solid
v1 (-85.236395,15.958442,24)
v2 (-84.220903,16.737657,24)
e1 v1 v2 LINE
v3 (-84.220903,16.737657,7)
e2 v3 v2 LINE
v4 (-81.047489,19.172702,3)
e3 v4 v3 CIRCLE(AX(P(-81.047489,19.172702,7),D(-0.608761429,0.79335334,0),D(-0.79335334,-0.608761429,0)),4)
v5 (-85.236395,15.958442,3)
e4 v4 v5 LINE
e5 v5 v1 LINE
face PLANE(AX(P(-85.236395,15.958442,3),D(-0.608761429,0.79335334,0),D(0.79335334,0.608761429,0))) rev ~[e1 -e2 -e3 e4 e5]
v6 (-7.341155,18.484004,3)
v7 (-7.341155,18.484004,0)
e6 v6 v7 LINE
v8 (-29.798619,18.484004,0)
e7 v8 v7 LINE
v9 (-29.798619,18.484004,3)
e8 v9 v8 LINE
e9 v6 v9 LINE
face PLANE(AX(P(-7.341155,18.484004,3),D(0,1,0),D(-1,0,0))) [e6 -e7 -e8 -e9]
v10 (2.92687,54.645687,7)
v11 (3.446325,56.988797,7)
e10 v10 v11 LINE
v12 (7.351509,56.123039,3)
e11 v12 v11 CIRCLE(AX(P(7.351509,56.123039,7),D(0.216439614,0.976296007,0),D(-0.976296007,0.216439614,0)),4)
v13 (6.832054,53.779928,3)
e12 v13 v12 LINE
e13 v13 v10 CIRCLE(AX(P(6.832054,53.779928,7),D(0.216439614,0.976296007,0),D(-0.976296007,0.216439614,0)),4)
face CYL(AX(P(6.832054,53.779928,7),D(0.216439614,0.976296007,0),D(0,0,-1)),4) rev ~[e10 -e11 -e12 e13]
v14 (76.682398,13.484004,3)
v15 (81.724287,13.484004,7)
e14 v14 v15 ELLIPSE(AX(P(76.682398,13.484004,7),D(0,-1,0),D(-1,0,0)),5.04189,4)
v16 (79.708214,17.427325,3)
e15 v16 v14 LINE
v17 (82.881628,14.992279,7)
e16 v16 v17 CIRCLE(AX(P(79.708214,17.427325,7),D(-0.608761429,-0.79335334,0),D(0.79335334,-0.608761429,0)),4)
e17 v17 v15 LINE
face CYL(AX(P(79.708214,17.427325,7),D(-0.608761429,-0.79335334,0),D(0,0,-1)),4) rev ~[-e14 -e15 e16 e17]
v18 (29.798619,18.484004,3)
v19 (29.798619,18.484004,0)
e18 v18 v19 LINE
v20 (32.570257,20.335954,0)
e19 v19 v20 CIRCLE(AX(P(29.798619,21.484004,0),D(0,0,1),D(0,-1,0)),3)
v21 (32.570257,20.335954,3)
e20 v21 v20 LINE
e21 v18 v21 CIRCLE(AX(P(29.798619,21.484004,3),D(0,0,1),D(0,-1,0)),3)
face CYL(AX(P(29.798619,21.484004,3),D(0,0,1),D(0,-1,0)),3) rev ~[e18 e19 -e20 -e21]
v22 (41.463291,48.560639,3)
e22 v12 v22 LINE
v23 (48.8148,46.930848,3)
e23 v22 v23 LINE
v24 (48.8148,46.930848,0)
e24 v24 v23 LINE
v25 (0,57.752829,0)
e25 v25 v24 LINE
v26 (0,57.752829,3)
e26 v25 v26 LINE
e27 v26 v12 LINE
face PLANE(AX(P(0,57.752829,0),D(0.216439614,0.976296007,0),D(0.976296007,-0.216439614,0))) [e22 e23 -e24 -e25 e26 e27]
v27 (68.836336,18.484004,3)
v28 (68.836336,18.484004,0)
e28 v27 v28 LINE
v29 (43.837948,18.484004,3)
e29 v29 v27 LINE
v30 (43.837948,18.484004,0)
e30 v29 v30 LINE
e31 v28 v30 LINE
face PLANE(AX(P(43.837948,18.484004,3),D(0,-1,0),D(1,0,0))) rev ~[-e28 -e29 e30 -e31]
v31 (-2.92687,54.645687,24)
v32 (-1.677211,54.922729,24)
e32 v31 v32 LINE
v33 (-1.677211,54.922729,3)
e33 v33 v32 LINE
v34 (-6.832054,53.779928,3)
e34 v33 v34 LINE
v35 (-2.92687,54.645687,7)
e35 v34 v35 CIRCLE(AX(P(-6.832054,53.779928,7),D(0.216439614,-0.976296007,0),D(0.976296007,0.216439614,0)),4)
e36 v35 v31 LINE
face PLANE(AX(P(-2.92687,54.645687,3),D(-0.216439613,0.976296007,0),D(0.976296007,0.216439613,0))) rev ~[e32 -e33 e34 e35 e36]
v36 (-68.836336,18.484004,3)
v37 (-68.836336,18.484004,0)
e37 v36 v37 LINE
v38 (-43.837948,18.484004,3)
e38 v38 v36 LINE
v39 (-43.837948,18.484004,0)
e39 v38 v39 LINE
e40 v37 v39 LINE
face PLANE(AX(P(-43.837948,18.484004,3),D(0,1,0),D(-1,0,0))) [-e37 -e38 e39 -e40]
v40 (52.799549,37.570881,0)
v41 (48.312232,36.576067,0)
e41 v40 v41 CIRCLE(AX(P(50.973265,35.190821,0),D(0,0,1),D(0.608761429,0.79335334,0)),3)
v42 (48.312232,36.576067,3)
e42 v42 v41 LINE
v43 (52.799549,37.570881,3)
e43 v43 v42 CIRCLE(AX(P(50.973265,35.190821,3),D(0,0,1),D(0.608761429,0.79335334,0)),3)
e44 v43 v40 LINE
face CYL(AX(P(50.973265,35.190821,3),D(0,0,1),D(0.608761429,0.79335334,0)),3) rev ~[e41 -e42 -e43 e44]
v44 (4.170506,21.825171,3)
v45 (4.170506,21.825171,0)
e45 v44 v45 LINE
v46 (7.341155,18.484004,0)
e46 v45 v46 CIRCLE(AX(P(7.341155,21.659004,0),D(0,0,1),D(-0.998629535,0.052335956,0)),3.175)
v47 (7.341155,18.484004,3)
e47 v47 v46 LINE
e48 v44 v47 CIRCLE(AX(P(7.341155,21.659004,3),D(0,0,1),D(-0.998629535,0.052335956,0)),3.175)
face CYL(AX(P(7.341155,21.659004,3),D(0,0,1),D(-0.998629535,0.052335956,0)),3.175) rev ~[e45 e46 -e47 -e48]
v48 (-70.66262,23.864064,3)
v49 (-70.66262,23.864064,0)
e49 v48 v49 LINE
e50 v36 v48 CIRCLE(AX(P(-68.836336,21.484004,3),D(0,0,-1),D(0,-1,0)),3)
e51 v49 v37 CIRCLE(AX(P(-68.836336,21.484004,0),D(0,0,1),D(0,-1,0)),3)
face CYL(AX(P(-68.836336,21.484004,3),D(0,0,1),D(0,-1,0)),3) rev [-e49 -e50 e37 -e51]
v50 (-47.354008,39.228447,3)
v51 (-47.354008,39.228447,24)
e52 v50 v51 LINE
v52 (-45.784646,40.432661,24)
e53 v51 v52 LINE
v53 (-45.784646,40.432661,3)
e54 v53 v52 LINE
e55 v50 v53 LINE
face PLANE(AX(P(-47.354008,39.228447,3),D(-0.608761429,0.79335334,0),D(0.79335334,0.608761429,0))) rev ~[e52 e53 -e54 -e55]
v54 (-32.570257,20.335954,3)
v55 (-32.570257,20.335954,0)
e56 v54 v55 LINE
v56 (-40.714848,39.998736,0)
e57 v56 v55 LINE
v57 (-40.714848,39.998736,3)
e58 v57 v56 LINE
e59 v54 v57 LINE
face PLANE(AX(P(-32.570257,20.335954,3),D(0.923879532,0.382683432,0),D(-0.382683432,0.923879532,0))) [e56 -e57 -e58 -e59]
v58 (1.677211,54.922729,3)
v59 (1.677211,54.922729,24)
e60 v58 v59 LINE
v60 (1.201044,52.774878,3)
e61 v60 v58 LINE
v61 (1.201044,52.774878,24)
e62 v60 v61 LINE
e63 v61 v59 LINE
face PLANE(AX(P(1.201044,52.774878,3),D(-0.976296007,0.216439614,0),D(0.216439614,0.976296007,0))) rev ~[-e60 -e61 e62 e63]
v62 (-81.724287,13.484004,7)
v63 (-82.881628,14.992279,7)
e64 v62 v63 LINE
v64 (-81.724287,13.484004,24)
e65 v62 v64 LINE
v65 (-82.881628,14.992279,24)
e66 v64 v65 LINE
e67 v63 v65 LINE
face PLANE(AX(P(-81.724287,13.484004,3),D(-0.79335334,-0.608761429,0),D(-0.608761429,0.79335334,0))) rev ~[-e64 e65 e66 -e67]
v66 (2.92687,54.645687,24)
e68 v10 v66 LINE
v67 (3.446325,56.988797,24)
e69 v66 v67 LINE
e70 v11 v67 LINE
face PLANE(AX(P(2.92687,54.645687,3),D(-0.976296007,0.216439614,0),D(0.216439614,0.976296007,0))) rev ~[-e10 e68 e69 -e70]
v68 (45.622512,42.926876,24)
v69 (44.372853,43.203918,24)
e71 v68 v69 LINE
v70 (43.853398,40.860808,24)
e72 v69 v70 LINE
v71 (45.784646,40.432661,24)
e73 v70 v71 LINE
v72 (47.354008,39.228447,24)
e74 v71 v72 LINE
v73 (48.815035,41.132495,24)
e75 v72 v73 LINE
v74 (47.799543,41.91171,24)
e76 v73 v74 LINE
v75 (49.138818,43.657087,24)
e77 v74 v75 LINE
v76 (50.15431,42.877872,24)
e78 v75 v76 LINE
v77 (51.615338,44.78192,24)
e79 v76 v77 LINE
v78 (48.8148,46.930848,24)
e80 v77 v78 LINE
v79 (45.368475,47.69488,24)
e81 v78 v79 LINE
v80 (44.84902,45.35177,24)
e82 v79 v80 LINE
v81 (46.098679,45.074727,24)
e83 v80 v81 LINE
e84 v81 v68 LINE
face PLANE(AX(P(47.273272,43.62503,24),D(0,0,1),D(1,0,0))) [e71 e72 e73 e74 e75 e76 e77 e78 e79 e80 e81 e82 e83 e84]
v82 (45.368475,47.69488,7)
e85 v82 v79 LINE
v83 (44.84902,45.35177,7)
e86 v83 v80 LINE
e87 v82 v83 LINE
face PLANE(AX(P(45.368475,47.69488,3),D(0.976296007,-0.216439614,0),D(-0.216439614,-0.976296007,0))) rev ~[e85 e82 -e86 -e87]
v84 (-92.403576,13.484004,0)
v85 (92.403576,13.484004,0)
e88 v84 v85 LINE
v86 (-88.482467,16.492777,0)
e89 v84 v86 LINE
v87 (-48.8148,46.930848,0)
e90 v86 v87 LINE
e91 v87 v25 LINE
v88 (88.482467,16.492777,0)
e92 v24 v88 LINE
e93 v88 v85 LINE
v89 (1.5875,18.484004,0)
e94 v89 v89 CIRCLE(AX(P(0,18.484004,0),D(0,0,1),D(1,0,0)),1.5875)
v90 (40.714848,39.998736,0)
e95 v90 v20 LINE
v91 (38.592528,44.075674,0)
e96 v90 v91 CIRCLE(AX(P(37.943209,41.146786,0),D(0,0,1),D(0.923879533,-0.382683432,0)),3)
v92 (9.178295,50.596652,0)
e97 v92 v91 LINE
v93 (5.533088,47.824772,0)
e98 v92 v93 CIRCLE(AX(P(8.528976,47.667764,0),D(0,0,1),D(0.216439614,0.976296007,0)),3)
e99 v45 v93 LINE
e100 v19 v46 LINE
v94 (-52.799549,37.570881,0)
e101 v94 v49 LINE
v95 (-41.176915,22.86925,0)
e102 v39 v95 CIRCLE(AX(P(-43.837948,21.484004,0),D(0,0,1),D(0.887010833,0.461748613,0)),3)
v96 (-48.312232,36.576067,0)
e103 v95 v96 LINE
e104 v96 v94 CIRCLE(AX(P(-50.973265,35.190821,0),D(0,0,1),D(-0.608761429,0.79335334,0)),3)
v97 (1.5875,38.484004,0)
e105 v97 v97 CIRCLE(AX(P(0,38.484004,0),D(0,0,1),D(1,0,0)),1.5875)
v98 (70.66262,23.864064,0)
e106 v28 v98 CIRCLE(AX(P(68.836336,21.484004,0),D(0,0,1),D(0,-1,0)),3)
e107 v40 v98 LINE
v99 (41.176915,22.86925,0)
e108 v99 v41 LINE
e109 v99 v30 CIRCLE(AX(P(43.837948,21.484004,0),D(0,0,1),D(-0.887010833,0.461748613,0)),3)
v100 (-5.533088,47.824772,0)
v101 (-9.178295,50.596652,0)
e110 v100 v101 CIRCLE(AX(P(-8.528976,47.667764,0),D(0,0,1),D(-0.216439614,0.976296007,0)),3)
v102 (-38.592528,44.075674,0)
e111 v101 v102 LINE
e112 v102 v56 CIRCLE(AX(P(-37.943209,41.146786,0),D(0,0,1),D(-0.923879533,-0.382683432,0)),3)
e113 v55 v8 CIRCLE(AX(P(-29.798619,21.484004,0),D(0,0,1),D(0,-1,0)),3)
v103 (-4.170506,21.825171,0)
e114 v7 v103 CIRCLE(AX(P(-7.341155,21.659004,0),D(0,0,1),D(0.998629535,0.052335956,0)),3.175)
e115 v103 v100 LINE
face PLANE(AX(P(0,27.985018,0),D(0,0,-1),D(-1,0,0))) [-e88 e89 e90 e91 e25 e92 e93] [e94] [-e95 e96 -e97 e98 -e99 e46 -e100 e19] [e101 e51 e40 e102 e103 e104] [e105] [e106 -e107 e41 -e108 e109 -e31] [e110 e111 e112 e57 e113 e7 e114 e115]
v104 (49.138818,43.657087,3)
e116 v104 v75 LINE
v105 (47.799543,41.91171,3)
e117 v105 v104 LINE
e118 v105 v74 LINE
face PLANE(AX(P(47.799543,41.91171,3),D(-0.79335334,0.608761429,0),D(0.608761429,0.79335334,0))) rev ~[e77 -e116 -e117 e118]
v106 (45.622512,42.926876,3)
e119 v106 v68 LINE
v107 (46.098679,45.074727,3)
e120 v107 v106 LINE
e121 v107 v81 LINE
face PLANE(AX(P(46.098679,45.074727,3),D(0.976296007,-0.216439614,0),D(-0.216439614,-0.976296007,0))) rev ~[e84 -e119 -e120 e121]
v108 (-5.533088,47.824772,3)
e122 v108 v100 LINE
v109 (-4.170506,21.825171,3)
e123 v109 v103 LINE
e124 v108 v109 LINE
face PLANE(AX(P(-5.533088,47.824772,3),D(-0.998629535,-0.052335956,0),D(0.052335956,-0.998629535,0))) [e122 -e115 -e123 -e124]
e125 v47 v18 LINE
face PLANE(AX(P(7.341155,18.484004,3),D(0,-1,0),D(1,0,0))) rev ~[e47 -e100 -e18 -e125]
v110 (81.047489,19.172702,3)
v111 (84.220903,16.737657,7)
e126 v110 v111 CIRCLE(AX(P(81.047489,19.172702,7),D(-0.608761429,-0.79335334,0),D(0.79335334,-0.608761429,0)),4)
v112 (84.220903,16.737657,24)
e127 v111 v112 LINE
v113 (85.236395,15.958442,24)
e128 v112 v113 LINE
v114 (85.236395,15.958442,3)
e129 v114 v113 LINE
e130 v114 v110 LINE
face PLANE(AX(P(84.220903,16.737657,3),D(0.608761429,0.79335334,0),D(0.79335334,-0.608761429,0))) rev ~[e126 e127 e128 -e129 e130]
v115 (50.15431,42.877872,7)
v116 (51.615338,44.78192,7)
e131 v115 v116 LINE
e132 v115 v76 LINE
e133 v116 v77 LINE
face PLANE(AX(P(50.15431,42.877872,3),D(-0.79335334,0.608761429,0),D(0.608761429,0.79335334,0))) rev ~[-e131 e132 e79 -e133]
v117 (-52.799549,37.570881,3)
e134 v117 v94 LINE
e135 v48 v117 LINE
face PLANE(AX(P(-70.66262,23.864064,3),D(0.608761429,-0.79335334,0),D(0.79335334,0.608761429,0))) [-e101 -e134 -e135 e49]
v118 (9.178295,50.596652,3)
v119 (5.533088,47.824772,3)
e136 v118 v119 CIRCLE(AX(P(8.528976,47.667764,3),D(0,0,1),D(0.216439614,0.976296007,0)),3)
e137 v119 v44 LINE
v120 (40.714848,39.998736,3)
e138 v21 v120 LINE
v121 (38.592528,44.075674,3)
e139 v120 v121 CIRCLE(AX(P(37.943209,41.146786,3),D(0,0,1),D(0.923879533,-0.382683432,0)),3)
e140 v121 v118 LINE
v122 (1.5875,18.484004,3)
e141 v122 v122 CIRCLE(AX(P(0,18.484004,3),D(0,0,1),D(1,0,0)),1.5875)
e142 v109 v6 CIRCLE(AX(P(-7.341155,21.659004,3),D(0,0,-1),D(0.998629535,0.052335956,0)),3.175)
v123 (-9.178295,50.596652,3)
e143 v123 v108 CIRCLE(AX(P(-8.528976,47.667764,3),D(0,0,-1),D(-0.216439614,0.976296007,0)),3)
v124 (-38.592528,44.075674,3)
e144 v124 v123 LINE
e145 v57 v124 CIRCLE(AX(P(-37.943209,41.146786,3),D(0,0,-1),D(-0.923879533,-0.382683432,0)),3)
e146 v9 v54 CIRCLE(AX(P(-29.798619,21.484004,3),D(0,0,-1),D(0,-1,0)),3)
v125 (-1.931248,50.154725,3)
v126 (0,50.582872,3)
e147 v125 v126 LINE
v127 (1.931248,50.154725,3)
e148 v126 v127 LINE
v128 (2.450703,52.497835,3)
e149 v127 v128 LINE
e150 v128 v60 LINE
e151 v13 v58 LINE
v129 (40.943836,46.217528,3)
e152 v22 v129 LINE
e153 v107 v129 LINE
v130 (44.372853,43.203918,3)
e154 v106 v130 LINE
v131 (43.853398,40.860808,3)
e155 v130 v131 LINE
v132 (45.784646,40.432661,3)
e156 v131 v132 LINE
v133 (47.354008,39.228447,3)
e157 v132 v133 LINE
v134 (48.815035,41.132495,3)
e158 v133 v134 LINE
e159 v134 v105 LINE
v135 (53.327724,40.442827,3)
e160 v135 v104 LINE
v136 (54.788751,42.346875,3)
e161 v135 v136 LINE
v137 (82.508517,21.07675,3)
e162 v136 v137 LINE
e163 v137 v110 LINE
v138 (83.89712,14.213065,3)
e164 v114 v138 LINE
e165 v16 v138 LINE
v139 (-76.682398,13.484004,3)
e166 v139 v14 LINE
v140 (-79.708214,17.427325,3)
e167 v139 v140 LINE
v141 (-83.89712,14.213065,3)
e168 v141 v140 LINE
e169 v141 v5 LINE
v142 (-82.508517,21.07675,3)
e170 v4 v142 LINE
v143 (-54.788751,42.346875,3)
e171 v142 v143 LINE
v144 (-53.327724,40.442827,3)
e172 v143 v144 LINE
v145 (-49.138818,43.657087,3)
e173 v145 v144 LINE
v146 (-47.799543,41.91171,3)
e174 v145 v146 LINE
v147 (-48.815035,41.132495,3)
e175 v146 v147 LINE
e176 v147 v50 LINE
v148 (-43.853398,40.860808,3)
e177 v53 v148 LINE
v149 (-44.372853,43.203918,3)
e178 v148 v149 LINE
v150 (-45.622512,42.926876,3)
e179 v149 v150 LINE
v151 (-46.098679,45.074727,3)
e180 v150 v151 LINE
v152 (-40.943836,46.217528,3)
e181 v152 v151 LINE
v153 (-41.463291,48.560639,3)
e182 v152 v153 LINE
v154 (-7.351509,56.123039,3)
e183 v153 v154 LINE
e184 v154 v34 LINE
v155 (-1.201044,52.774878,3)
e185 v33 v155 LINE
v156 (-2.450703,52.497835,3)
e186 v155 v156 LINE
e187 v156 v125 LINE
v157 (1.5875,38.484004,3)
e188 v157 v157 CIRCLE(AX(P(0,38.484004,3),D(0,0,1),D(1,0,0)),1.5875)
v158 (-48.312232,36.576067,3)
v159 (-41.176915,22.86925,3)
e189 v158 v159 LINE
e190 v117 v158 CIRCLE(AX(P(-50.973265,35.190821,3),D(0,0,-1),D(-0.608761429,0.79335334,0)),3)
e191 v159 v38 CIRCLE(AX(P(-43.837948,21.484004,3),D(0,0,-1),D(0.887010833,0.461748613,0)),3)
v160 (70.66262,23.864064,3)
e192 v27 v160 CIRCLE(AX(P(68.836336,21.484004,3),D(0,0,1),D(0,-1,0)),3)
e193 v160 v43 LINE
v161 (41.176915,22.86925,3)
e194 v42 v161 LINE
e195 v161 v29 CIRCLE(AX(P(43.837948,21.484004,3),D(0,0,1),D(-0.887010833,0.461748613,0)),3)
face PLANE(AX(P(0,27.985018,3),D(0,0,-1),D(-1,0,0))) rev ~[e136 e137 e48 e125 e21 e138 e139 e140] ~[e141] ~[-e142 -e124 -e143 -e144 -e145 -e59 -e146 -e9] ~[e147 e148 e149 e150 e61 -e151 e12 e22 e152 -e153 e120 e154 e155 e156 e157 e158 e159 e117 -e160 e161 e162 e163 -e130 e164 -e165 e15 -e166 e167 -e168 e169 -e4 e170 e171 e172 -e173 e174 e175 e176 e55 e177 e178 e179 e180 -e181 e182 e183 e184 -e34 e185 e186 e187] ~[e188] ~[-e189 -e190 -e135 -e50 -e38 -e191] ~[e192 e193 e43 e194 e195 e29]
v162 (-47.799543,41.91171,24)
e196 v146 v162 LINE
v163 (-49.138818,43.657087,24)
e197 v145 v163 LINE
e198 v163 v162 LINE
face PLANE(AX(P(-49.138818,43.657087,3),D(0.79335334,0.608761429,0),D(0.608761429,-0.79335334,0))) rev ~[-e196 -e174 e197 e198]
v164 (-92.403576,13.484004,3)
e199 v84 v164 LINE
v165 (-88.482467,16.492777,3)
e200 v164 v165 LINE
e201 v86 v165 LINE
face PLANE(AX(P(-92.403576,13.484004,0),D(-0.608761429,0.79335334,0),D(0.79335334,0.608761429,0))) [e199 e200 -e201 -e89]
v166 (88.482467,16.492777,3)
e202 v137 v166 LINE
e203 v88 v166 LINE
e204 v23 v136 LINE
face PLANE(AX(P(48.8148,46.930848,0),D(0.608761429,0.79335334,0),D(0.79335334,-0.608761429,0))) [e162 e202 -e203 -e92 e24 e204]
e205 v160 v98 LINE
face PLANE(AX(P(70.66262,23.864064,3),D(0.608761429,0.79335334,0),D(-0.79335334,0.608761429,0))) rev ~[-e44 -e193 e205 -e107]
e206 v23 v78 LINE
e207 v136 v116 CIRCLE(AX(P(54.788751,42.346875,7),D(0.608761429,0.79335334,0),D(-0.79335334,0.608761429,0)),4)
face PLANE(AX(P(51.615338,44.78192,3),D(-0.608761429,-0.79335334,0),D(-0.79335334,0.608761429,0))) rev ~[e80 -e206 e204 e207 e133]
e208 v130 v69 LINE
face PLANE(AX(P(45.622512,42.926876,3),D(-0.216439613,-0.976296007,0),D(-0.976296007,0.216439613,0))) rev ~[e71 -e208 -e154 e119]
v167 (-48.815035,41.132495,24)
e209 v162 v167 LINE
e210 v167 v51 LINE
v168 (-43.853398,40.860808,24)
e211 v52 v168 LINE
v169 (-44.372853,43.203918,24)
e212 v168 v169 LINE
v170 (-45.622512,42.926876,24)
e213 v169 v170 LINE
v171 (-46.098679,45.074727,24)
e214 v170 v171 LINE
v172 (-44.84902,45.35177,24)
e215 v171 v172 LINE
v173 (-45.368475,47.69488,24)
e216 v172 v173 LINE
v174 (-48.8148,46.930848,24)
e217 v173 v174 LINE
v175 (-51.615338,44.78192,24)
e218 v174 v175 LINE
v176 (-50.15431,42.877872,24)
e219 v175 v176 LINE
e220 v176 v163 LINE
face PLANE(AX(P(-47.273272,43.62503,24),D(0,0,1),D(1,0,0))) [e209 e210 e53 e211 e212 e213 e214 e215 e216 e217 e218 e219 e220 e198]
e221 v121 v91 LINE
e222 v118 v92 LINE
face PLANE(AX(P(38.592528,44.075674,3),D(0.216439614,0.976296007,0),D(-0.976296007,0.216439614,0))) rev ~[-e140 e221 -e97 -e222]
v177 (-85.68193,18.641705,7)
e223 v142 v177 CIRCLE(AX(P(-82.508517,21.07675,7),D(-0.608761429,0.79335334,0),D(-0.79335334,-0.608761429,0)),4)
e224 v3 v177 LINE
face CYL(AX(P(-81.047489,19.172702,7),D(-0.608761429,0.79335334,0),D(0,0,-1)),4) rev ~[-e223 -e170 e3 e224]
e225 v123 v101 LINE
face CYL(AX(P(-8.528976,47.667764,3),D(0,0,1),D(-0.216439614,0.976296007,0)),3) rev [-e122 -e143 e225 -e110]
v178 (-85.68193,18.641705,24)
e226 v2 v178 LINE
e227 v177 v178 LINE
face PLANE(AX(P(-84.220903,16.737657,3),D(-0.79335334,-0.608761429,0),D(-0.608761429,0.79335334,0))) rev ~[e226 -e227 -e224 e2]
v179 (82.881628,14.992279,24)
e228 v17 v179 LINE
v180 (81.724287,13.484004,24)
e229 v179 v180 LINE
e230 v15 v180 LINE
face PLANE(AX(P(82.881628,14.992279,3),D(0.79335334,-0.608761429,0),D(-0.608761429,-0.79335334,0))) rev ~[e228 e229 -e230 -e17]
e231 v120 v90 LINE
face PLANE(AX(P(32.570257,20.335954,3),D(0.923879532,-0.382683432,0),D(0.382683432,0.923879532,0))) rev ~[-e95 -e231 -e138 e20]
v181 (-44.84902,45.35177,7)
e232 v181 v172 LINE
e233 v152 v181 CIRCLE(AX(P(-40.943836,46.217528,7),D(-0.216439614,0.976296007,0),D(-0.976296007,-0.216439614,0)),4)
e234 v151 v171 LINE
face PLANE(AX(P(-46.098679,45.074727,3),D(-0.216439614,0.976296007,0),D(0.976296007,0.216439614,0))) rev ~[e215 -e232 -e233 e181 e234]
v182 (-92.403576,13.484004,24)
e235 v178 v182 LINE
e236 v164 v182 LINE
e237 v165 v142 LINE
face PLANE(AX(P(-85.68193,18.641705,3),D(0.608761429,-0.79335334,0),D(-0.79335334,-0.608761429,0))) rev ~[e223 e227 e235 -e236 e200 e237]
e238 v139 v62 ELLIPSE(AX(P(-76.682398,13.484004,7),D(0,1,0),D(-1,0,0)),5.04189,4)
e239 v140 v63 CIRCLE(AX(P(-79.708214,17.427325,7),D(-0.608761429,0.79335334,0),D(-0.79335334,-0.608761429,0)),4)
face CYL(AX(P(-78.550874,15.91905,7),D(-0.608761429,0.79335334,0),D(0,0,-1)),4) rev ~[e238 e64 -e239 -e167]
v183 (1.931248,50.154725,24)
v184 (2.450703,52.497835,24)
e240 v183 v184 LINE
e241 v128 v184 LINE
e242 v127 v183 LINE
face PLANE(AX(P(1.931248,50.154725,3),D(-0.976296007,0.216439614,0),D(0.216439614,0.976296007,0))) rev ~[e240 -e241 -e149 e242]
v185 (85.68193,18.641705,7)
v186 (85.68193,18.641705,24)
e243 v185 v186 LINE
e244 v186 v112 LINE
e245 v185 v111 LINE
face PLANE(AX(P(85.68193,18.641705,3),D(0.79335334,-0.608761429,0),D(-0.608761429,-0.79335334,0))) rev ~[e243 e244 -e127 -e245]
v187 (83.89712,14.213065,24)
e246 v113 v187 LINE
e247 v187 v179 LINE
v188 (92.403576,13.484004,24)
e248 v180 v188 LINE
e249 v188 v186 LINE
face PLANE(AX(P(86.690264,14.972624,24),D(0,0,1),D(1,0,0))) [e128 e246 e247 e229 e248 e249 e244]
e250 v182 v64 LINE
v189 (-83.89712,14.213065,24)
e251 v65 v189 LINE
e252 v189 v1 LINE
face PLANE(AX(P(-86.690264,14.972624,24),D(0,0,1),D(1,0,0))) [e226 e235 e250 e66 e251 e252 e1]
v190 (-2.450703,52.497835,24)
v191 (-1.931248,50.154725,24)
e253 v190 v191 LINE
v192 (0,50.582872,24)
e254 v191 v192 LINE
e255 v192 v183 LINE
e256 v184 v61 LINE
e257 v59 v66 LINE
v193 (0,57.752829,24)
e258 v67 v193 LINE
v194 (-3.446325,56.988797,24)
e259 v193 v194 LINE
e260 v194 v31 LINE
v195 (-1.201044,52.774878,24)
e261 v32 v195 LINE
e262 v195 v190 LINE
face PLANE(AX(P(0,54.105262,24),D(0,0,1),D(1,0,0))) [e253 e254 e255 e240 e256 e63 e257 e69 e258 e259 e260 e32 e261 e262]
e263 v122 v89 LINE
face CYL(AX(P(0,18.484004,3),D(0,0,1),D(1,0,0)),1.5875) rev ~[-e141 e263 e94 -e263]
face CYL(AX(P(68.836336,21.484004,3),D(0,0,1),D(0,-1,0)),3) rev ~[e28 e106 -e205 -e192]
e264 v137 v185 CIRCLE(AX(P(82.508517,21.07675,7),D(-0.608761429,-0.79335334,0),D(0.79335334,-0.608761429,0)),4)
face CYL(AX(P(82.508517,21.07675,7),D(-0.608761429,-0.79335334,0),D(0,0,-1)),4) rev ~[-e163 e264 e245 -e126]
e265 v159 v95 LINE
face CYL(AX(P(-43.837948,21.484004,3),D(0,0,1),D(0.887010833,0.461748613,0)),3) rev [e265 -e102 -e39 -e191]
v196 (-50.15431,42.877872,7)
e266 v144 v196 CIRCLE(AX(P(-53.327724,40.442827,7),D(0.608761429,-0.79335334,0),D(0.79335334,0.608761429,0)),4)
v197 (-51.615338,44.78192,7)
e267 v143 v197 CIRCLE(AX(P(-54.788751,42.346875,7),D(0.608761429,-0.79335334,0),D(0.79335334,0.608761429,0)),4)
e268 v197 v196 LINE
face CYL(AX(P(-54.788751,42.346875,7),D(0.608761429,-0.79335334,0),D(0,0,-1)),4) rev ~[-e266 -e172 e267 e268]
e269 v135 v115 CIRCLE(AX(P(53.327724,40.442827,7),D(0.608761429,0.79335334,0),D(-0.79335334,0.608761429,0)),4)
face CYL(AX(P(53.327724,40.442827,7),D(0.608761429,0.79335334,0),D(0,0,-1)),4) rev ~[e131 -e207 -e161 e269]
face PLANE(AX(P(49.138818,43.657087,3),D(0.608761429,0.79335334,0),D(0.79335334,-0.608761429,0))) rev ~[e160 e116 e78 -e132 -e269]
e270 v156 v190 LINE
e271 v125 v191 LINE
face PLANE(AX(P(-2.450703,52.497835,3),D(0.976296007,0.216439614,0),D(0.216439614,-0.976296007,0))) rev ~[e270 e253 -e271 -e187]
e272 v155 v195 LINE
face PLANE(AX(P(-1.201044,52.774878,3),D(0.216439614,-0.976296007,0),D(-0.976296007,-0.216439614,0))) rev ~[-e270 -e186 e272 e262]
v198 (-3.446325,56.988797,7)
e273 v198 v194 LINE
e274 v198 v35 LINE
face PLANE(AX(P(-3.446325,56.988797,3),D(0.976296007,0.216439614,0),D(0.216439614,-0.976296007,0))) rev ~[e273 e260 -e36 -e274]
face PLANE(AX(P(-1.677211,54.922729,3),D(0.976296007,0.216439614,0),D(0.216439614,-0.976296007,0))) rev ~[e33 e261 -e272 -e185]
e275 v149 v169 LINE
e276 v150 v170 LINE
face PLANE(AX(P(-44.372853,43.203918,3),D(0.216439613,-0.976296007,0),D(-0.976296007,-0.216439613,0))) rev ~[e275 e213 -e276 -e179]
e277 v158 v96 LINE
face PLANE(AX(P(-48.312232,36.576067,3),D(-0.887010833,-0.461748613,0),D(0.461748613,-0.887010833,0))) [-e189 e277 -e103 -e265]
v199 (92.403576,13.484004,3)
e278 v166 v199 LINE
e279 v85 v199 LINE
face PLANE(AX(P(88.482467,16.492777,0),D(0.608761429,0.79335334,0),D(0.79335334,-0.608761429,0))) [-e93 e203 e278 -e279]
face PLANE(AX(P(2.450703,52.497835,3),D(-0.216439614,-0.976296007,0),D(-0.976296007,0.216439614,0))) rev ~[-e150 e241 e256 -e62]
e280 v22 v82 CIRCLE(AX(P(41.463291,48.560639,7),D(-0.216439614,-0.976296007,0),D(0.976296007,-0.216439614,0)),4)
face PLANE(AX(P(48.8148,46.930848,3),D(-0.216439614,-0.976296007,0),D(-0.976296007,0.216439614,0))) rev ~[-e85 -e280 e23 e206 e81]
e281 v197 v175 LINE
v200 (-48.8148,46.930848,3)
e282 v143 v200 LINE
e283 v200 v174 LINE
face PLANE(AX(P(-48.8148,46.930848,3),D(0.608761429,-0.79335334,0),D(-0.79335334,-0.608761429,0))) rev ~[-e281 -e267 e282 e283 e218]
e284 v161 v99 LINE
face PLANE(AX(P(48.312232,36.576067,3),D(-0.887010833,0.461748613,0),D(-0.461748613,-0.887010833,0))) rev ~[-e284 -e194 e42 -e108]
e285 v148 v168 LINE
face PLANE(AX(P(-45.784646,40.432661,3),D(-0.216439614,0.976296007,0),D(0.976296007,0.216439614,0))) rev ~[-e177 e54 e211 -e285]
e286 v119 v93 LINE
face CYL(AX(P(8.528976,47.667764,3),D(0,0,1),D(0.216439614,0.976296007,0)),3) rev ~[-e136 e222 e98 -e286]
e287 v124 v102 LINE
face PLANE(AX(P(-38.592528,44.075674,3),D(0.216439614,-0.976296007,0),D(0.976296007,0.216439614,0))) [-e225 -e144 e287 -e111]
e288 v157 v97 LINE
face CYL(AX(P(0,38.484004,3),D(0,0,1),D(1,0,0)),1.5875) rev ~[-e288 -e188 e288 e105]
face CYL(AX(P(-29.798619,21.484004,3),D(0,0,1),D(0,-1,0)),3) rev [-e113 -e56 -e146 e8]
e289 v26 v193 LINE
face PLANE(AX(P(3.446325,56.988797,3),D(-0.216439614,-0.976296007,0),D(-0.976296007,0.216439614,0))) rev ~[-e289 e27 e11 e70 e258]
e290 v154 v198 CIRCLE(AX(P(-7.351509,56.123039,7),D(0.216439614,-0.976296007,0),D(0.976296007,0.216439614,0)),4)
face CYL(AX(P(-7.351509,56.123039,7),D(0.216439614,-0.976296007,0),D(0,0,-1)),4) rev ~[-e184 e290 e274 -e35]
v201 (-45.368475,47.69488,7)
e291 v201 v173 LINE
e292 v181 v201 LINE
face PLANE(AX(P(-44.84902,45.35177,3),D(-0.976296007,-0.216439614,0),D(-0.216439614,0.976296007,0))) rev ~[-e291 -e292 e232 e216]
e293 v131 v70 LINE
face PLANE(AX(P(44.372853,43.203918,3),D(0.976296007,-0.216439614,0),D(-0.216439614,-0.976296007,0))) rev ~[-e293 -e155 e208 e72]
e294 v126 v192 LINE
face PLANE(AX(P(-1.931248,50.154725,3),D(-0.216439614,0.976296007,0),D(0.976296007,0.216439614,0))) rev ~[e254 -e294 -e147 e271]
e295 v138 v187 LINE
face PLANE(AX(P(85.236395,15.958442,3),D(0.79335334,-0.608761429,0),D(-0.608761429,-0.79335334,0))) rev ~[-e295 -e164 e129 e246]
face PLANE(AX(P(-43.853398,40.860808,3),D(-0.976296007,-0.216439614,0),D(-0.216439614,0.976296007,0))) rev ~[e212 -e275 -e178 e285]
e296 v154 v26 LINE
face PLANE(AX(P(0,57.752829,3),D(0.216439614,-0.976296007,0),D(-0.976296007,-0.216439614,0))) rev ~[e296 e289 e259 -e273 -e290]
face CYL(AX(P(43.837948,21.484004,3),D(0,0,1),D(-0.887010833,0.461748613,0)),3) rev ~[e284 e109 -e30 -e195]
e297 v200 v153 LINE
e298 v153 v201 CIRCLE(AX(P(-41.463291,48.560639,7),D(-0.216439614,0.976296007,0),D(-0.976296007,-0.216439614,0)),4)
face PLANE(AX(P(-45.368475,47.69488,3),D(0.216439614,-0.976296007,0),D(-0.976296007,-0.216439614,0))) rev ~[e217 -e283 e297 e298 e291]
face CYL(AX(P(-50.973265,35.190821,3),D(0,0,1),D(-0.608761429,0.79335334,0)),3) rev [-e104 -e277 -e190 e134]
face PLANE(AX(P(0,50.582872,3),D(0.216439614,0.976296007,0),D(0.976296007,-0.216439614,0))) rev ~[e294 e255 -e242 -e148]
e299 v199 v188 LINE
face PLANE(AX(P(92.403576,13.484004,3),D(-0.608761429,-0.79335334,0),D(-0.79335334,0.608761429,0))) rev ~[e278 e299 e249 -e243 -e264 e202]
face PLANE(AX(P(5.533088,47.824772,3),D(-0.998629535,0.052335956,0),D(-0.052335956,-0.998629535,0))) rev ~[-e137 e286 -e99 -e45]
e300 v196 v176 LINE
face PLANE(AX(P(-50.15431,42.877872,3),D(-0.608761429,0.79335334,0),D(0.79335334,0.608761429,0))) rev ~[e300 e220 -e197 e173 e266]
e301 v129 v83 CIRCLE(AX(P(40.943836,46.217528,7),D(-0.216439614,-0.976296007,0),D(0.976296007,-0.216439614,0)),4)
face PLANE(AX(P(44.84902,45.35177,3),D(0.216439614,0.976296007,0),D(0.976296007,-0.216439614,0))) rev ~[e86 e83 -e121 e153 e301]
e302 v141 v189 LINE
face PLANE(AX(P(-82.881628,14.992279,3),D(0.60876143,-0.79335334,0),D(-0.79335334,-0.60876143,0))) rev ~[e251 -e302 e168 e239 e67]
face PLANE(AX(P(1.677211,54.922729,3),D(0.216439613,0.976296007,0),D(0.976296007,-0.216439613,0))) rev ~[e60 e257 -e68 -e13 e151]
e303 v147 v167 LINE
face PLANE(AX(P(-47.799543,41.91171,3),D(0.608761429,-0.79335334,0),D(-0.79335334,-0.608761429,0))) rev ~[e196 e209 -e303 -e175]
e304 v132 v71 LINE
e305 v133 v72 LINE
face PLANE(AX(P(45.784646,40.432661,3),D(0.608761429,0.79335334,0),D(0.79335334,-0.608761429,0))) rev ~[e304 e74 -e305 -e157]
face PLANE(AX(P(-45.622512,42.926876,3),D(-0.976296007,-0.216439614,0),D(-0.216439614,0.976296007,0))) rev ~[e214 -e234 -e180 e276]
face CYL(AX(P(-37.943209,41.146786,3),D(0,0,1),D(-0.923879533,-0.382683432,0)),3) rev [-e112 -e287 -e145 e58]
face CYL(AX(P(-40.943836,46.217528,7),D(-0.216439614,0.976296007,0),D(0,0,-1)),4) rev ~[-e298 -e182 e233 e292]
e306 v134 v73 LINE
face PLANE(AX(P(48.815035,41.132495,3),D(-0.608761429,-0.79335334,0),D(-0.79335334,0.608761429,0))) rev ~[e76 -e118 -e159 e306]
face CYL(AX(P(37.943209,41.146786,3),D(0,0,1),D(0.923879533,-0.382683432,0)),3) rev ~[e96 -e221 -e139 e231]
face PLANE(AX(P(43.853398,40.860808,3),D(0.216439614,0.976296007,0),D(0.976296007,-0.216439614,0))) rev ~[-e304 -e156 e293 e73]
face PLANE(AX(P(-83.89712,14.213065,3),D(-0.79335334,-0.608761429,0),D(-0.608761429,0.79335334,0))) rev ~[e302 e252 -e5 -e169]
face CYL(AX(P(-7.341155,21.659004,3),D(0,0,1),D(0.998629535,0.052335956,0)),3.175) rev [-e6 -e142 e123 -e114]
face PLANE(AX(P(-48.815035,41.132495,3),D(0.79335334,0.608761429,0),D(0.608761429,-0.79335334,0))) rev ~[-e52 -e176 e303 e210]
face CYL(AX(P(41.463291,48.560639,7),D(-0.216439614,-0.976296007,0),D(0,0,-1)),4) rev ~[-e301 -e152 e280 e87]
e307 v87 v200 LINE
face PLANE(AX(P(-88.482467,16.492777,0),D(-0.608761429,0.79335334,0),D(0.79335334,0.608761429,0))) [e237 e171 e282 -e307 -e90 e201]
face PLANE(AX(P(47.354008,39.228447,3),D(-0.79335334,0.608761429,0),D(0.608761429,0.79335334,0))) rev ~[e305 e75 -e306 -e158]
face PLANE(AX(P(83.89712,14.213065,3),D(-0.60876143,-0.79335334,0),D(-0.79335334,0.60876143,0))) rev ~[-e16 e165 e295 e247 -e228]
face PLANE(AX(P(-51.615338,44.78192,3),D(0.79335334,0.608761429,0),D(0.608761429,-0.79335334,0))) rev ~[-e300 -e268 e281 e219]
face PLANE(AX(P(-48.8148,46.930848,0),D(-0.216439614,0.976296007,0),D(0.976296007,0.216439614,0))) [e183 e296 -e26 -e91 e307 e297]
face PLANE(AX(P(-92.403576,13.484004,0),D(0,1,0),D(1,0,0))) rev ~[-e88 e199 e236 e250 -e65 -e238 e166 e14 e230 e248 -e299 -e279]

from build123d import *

# Parameters (mm, degrees)
BOSS_EXTRUDE1_DEPTH = 3
BOSS_EXTRUDE2_DEPTH = 21
SKETCH3_R           = 1.5875
CUT_EXTRUDE1_DEPTH  = 111.972114009
FILLET3_R           = 4
FILLET4_R           = 4


with BuildPart() as part:
    # Sketch1 → Boss-Extrude1 (new body)
    with BuildSketch(Plane.XY):
        Polygon((0, 57.752828942), (48.814800356, 46.930848245), (88.482467371, 16.492776794), (92.403575887, 13.484004407), (84.489061716, 13.484004407), (-84.489061716, 13.484004407), (-92.403575887, 13.484004407), (-88.482467371, 16.492776794), (-48.814800356, 46.930848245), align=None)
    extrude(amount=BOSS_EXTRUDE1_DEPTH)

    # Sketch2 → Boss-Extrude2 (add)
    with BuildSketch(Plane.XY.offset(3)):
        Polygon((-45.368475451, 47.694880082), (-48.814800356, 46.930848245), (-51.615337647, 44.781920401), (-50.154310218, 42.877872384), (-49.138817942, 43.657087013), (-47.799542798, 41.911709664), (-48.815035074, 41.132495035), (-47.354007644, 39.228447018), (-45.784645761, 40.432660745), (-43.853398153, 40.860808032), (-44.372853227, 43.203918449), (-45.622512116, 42.926875744), (-46.098679267, 45.074726959), (-44.849020377, 45.351769665), align=None)
        Polygon((0, 57.752828942), (-3.446324905, 56.988797105), (-2.926869832, 54.645686688), (-1.677210943, 54.922729393), (-1.201043792, 52.774878178), (-2.450702681, 52.497835472), (-1.931247608, 50.154725055), (0, 50.582872342), (1.931247608, 50.154725055), (2.450702681, 52.497835472), (1.201043792, 52.774878178), (1.677210943, 54.922729393), (2.926869832, 54.645686688), (3.446324905, 56.988797105), align=None)
        Polygon((-84.22090265, 16.737656622), (-85.681930079, 18.641704639), (-92.403575887, 13.484004407), (-81.724287495, 13.484004407), (-82.881627506, 14.992279274), (-83.897119781, 14.213064644), (-85.236394925, 15.958441993), align=None)
        Polygon((48.814800356, 46.930848245), (45.368475451, 47.694880082), (44.849020377, 45.351769665), (46.098679267, 45.074726959), (45.622512116, 42.926875744), (44.372853227, 43.203918449), (43.853398153, 40.860808032), (45.784645761, 40.432660745), (47.354007644, 39.228447018), (48.815035074, 41.132495035), (47.799542798, 41.911709664), (49.138817942, 43.657087013), (50.154310218, 42.877872384), (51.615337647, 44.781920401), align=None)
        Polygon((82.881627506, 14.992279274), (81.724287495, 13.484004407), (92.403575887, 13.484004407), (85.681930079, 18.641704639), (84.22090265, 16.737656622), (85.236394925, 15.958441993), (83.897119781, 14.213064644), align=None)
    extrude(amount=BOSS_EXTRUDE2_DEPTH)

    # Sketch3 → Cut-Extrude1 (cut, through all)
    with BuildSketch(Plane.XY.offset(3)):
        with Locations((0, 18.484004407)):
            Circle(SKETCH3_R)
        with Locations((0, 38.484004407)):
            Circle(SKETCH3_R)
        with BuildLine():
            Line((-70.662620138, 23.864064428), (-52.799548931, 37.570881053))
            ThreePointArc((-52.799548931, 37.570881053), (-50.323945802, 38.119709054), (-48.312232144, 36.576066872))
            Line((-48.312232144, 36.576066872), (-41.176915041, 22.869250246))
            ThreePointArc((-41.176915041, 22.869250246), (-41.273211929, 19.927684632), (-43.837947541, 18.484004407))
            Line((-43.837947541, 18.484004407), (-68.836335851, 18.484004407))
            ThreePointArc((-68.836335851, 18.484004407), (-71.677126239, 20.519686011), (-70.662620138, 23.864064428))
        make_face()
        with BuildLine():
            Line((-32.570257259, 20.33595411), (-40.714847995, 39.998735523))
            ThreePointArc((-40.714847995, 39.998735523), (-40.604241897, 42.53203166), (-38.592528239, 44.075673842))
            Line((-38.592528239, 44.075673842), (-9.178295063, 50.596652343))
            ThreePointArc((-9.178295063, 50.596652343), (-6.713094257, 50.055770329), (-5.533087617, 47.82477219))
            Line((-5.533087617, 47.82477219), (-4.17050626, 21.825171068))
            ThreePointArc((-4.17050626, 21.825171068), (-5.038091405, 19.473478629), (-7.341155033, 18.484004407))
            Line((-7.341155033, 18.484004407), (-29.798618662, 18.484004407))
            ThreePointArc((-29.798618662, 18.484004407), (-31.465329361, 18.98959557), (-32.570257259, 20.33595411))
        make_face()
        with BuildLine():
            Line((7.341155033, 18.484004407), (29.798618662, 18.484004407))
            ThreePointArc((29.798618662, 18.484004407), (31.465329361, 18.98959557), (32.570257259, 20.33595411))
            Line((32.570257259, 20.33595411), (40.714847995, 39.998735523))
            ThreePointArc((40.714847995, 39.998735523), (40.604241897, 42.53203166), (38.592528239, 44.075673842))
            Line((38.592528239, 44.075673842), (9.178295063, 50.596652343))
            ThreePointArc((9.178295063, 50.596652343), (6.713094257, 50.055770329), (5.533087617, 47.82477219))
            Line((5.533087617, 47.82477219), (4.17050626, 21.825171068))
            ThreePointArc((4.17050626, 21.825171068), (5.038091405, 19.473478629), (7.341155033, 18.484004407))
        make_face()
        with BuildLine():
            Line((43.837947541, 18.484004407), (68.836335851, 18.484004407))
            ThreePointArc((68.836335851, 18.484004407), (71.677126239, 20.519686011), (70.662620138, 23.864064428))
            Line((70.662620138, 23.864064428), (52.799548931, 37.570881053))
            ThreePointArc((52.799548931, 37.570881053), (50.323945802, 38.119709054), (48.312232144, 36.576066872))
            Line((48.312232144, 36.576066872), (41.176915041, 22.869250246))
            ThreePointArc((41.176915041, 22.869250246), (41.273211929, 19.927684632), (43.837947541, 18.484004407))
        make_face()
    extrude(amount=-CUT_EXTRUDE1_DEPTH, mode=Mode.SUBTRACT)

    # Fillet3
    fillet3_edges = [part.edges().sort_by_distance(p)[0] for p in [
        (-84.951416365, 17.689680631, 3),
    ]]
    fillet(fillet3_edges, radius=FILLET3_R)

    # Fillet4
    fillet4_edges = [part.edges().sort_by_distance(p)[0] for p in [
        (84.951416365, 17.689680631, 3),
        (50.884823932, 43.829896392, 3),
        (45.108747914, 46.523324874, 3),
        (3.186597368, 55.817241896, 3),
        (-3.186597368, 55.817241896, 3),
        (-45.108747914, 46.523324874, 3),
        (-82.302957501, 14.23814184, 3),
        (-50.884823932, 43.829896392, 3),
        (82.302957501, 14.23814184, 3),
    ]]
    fillet(fillet4_edges, radius=FILLET4_R)


solid = part.part
